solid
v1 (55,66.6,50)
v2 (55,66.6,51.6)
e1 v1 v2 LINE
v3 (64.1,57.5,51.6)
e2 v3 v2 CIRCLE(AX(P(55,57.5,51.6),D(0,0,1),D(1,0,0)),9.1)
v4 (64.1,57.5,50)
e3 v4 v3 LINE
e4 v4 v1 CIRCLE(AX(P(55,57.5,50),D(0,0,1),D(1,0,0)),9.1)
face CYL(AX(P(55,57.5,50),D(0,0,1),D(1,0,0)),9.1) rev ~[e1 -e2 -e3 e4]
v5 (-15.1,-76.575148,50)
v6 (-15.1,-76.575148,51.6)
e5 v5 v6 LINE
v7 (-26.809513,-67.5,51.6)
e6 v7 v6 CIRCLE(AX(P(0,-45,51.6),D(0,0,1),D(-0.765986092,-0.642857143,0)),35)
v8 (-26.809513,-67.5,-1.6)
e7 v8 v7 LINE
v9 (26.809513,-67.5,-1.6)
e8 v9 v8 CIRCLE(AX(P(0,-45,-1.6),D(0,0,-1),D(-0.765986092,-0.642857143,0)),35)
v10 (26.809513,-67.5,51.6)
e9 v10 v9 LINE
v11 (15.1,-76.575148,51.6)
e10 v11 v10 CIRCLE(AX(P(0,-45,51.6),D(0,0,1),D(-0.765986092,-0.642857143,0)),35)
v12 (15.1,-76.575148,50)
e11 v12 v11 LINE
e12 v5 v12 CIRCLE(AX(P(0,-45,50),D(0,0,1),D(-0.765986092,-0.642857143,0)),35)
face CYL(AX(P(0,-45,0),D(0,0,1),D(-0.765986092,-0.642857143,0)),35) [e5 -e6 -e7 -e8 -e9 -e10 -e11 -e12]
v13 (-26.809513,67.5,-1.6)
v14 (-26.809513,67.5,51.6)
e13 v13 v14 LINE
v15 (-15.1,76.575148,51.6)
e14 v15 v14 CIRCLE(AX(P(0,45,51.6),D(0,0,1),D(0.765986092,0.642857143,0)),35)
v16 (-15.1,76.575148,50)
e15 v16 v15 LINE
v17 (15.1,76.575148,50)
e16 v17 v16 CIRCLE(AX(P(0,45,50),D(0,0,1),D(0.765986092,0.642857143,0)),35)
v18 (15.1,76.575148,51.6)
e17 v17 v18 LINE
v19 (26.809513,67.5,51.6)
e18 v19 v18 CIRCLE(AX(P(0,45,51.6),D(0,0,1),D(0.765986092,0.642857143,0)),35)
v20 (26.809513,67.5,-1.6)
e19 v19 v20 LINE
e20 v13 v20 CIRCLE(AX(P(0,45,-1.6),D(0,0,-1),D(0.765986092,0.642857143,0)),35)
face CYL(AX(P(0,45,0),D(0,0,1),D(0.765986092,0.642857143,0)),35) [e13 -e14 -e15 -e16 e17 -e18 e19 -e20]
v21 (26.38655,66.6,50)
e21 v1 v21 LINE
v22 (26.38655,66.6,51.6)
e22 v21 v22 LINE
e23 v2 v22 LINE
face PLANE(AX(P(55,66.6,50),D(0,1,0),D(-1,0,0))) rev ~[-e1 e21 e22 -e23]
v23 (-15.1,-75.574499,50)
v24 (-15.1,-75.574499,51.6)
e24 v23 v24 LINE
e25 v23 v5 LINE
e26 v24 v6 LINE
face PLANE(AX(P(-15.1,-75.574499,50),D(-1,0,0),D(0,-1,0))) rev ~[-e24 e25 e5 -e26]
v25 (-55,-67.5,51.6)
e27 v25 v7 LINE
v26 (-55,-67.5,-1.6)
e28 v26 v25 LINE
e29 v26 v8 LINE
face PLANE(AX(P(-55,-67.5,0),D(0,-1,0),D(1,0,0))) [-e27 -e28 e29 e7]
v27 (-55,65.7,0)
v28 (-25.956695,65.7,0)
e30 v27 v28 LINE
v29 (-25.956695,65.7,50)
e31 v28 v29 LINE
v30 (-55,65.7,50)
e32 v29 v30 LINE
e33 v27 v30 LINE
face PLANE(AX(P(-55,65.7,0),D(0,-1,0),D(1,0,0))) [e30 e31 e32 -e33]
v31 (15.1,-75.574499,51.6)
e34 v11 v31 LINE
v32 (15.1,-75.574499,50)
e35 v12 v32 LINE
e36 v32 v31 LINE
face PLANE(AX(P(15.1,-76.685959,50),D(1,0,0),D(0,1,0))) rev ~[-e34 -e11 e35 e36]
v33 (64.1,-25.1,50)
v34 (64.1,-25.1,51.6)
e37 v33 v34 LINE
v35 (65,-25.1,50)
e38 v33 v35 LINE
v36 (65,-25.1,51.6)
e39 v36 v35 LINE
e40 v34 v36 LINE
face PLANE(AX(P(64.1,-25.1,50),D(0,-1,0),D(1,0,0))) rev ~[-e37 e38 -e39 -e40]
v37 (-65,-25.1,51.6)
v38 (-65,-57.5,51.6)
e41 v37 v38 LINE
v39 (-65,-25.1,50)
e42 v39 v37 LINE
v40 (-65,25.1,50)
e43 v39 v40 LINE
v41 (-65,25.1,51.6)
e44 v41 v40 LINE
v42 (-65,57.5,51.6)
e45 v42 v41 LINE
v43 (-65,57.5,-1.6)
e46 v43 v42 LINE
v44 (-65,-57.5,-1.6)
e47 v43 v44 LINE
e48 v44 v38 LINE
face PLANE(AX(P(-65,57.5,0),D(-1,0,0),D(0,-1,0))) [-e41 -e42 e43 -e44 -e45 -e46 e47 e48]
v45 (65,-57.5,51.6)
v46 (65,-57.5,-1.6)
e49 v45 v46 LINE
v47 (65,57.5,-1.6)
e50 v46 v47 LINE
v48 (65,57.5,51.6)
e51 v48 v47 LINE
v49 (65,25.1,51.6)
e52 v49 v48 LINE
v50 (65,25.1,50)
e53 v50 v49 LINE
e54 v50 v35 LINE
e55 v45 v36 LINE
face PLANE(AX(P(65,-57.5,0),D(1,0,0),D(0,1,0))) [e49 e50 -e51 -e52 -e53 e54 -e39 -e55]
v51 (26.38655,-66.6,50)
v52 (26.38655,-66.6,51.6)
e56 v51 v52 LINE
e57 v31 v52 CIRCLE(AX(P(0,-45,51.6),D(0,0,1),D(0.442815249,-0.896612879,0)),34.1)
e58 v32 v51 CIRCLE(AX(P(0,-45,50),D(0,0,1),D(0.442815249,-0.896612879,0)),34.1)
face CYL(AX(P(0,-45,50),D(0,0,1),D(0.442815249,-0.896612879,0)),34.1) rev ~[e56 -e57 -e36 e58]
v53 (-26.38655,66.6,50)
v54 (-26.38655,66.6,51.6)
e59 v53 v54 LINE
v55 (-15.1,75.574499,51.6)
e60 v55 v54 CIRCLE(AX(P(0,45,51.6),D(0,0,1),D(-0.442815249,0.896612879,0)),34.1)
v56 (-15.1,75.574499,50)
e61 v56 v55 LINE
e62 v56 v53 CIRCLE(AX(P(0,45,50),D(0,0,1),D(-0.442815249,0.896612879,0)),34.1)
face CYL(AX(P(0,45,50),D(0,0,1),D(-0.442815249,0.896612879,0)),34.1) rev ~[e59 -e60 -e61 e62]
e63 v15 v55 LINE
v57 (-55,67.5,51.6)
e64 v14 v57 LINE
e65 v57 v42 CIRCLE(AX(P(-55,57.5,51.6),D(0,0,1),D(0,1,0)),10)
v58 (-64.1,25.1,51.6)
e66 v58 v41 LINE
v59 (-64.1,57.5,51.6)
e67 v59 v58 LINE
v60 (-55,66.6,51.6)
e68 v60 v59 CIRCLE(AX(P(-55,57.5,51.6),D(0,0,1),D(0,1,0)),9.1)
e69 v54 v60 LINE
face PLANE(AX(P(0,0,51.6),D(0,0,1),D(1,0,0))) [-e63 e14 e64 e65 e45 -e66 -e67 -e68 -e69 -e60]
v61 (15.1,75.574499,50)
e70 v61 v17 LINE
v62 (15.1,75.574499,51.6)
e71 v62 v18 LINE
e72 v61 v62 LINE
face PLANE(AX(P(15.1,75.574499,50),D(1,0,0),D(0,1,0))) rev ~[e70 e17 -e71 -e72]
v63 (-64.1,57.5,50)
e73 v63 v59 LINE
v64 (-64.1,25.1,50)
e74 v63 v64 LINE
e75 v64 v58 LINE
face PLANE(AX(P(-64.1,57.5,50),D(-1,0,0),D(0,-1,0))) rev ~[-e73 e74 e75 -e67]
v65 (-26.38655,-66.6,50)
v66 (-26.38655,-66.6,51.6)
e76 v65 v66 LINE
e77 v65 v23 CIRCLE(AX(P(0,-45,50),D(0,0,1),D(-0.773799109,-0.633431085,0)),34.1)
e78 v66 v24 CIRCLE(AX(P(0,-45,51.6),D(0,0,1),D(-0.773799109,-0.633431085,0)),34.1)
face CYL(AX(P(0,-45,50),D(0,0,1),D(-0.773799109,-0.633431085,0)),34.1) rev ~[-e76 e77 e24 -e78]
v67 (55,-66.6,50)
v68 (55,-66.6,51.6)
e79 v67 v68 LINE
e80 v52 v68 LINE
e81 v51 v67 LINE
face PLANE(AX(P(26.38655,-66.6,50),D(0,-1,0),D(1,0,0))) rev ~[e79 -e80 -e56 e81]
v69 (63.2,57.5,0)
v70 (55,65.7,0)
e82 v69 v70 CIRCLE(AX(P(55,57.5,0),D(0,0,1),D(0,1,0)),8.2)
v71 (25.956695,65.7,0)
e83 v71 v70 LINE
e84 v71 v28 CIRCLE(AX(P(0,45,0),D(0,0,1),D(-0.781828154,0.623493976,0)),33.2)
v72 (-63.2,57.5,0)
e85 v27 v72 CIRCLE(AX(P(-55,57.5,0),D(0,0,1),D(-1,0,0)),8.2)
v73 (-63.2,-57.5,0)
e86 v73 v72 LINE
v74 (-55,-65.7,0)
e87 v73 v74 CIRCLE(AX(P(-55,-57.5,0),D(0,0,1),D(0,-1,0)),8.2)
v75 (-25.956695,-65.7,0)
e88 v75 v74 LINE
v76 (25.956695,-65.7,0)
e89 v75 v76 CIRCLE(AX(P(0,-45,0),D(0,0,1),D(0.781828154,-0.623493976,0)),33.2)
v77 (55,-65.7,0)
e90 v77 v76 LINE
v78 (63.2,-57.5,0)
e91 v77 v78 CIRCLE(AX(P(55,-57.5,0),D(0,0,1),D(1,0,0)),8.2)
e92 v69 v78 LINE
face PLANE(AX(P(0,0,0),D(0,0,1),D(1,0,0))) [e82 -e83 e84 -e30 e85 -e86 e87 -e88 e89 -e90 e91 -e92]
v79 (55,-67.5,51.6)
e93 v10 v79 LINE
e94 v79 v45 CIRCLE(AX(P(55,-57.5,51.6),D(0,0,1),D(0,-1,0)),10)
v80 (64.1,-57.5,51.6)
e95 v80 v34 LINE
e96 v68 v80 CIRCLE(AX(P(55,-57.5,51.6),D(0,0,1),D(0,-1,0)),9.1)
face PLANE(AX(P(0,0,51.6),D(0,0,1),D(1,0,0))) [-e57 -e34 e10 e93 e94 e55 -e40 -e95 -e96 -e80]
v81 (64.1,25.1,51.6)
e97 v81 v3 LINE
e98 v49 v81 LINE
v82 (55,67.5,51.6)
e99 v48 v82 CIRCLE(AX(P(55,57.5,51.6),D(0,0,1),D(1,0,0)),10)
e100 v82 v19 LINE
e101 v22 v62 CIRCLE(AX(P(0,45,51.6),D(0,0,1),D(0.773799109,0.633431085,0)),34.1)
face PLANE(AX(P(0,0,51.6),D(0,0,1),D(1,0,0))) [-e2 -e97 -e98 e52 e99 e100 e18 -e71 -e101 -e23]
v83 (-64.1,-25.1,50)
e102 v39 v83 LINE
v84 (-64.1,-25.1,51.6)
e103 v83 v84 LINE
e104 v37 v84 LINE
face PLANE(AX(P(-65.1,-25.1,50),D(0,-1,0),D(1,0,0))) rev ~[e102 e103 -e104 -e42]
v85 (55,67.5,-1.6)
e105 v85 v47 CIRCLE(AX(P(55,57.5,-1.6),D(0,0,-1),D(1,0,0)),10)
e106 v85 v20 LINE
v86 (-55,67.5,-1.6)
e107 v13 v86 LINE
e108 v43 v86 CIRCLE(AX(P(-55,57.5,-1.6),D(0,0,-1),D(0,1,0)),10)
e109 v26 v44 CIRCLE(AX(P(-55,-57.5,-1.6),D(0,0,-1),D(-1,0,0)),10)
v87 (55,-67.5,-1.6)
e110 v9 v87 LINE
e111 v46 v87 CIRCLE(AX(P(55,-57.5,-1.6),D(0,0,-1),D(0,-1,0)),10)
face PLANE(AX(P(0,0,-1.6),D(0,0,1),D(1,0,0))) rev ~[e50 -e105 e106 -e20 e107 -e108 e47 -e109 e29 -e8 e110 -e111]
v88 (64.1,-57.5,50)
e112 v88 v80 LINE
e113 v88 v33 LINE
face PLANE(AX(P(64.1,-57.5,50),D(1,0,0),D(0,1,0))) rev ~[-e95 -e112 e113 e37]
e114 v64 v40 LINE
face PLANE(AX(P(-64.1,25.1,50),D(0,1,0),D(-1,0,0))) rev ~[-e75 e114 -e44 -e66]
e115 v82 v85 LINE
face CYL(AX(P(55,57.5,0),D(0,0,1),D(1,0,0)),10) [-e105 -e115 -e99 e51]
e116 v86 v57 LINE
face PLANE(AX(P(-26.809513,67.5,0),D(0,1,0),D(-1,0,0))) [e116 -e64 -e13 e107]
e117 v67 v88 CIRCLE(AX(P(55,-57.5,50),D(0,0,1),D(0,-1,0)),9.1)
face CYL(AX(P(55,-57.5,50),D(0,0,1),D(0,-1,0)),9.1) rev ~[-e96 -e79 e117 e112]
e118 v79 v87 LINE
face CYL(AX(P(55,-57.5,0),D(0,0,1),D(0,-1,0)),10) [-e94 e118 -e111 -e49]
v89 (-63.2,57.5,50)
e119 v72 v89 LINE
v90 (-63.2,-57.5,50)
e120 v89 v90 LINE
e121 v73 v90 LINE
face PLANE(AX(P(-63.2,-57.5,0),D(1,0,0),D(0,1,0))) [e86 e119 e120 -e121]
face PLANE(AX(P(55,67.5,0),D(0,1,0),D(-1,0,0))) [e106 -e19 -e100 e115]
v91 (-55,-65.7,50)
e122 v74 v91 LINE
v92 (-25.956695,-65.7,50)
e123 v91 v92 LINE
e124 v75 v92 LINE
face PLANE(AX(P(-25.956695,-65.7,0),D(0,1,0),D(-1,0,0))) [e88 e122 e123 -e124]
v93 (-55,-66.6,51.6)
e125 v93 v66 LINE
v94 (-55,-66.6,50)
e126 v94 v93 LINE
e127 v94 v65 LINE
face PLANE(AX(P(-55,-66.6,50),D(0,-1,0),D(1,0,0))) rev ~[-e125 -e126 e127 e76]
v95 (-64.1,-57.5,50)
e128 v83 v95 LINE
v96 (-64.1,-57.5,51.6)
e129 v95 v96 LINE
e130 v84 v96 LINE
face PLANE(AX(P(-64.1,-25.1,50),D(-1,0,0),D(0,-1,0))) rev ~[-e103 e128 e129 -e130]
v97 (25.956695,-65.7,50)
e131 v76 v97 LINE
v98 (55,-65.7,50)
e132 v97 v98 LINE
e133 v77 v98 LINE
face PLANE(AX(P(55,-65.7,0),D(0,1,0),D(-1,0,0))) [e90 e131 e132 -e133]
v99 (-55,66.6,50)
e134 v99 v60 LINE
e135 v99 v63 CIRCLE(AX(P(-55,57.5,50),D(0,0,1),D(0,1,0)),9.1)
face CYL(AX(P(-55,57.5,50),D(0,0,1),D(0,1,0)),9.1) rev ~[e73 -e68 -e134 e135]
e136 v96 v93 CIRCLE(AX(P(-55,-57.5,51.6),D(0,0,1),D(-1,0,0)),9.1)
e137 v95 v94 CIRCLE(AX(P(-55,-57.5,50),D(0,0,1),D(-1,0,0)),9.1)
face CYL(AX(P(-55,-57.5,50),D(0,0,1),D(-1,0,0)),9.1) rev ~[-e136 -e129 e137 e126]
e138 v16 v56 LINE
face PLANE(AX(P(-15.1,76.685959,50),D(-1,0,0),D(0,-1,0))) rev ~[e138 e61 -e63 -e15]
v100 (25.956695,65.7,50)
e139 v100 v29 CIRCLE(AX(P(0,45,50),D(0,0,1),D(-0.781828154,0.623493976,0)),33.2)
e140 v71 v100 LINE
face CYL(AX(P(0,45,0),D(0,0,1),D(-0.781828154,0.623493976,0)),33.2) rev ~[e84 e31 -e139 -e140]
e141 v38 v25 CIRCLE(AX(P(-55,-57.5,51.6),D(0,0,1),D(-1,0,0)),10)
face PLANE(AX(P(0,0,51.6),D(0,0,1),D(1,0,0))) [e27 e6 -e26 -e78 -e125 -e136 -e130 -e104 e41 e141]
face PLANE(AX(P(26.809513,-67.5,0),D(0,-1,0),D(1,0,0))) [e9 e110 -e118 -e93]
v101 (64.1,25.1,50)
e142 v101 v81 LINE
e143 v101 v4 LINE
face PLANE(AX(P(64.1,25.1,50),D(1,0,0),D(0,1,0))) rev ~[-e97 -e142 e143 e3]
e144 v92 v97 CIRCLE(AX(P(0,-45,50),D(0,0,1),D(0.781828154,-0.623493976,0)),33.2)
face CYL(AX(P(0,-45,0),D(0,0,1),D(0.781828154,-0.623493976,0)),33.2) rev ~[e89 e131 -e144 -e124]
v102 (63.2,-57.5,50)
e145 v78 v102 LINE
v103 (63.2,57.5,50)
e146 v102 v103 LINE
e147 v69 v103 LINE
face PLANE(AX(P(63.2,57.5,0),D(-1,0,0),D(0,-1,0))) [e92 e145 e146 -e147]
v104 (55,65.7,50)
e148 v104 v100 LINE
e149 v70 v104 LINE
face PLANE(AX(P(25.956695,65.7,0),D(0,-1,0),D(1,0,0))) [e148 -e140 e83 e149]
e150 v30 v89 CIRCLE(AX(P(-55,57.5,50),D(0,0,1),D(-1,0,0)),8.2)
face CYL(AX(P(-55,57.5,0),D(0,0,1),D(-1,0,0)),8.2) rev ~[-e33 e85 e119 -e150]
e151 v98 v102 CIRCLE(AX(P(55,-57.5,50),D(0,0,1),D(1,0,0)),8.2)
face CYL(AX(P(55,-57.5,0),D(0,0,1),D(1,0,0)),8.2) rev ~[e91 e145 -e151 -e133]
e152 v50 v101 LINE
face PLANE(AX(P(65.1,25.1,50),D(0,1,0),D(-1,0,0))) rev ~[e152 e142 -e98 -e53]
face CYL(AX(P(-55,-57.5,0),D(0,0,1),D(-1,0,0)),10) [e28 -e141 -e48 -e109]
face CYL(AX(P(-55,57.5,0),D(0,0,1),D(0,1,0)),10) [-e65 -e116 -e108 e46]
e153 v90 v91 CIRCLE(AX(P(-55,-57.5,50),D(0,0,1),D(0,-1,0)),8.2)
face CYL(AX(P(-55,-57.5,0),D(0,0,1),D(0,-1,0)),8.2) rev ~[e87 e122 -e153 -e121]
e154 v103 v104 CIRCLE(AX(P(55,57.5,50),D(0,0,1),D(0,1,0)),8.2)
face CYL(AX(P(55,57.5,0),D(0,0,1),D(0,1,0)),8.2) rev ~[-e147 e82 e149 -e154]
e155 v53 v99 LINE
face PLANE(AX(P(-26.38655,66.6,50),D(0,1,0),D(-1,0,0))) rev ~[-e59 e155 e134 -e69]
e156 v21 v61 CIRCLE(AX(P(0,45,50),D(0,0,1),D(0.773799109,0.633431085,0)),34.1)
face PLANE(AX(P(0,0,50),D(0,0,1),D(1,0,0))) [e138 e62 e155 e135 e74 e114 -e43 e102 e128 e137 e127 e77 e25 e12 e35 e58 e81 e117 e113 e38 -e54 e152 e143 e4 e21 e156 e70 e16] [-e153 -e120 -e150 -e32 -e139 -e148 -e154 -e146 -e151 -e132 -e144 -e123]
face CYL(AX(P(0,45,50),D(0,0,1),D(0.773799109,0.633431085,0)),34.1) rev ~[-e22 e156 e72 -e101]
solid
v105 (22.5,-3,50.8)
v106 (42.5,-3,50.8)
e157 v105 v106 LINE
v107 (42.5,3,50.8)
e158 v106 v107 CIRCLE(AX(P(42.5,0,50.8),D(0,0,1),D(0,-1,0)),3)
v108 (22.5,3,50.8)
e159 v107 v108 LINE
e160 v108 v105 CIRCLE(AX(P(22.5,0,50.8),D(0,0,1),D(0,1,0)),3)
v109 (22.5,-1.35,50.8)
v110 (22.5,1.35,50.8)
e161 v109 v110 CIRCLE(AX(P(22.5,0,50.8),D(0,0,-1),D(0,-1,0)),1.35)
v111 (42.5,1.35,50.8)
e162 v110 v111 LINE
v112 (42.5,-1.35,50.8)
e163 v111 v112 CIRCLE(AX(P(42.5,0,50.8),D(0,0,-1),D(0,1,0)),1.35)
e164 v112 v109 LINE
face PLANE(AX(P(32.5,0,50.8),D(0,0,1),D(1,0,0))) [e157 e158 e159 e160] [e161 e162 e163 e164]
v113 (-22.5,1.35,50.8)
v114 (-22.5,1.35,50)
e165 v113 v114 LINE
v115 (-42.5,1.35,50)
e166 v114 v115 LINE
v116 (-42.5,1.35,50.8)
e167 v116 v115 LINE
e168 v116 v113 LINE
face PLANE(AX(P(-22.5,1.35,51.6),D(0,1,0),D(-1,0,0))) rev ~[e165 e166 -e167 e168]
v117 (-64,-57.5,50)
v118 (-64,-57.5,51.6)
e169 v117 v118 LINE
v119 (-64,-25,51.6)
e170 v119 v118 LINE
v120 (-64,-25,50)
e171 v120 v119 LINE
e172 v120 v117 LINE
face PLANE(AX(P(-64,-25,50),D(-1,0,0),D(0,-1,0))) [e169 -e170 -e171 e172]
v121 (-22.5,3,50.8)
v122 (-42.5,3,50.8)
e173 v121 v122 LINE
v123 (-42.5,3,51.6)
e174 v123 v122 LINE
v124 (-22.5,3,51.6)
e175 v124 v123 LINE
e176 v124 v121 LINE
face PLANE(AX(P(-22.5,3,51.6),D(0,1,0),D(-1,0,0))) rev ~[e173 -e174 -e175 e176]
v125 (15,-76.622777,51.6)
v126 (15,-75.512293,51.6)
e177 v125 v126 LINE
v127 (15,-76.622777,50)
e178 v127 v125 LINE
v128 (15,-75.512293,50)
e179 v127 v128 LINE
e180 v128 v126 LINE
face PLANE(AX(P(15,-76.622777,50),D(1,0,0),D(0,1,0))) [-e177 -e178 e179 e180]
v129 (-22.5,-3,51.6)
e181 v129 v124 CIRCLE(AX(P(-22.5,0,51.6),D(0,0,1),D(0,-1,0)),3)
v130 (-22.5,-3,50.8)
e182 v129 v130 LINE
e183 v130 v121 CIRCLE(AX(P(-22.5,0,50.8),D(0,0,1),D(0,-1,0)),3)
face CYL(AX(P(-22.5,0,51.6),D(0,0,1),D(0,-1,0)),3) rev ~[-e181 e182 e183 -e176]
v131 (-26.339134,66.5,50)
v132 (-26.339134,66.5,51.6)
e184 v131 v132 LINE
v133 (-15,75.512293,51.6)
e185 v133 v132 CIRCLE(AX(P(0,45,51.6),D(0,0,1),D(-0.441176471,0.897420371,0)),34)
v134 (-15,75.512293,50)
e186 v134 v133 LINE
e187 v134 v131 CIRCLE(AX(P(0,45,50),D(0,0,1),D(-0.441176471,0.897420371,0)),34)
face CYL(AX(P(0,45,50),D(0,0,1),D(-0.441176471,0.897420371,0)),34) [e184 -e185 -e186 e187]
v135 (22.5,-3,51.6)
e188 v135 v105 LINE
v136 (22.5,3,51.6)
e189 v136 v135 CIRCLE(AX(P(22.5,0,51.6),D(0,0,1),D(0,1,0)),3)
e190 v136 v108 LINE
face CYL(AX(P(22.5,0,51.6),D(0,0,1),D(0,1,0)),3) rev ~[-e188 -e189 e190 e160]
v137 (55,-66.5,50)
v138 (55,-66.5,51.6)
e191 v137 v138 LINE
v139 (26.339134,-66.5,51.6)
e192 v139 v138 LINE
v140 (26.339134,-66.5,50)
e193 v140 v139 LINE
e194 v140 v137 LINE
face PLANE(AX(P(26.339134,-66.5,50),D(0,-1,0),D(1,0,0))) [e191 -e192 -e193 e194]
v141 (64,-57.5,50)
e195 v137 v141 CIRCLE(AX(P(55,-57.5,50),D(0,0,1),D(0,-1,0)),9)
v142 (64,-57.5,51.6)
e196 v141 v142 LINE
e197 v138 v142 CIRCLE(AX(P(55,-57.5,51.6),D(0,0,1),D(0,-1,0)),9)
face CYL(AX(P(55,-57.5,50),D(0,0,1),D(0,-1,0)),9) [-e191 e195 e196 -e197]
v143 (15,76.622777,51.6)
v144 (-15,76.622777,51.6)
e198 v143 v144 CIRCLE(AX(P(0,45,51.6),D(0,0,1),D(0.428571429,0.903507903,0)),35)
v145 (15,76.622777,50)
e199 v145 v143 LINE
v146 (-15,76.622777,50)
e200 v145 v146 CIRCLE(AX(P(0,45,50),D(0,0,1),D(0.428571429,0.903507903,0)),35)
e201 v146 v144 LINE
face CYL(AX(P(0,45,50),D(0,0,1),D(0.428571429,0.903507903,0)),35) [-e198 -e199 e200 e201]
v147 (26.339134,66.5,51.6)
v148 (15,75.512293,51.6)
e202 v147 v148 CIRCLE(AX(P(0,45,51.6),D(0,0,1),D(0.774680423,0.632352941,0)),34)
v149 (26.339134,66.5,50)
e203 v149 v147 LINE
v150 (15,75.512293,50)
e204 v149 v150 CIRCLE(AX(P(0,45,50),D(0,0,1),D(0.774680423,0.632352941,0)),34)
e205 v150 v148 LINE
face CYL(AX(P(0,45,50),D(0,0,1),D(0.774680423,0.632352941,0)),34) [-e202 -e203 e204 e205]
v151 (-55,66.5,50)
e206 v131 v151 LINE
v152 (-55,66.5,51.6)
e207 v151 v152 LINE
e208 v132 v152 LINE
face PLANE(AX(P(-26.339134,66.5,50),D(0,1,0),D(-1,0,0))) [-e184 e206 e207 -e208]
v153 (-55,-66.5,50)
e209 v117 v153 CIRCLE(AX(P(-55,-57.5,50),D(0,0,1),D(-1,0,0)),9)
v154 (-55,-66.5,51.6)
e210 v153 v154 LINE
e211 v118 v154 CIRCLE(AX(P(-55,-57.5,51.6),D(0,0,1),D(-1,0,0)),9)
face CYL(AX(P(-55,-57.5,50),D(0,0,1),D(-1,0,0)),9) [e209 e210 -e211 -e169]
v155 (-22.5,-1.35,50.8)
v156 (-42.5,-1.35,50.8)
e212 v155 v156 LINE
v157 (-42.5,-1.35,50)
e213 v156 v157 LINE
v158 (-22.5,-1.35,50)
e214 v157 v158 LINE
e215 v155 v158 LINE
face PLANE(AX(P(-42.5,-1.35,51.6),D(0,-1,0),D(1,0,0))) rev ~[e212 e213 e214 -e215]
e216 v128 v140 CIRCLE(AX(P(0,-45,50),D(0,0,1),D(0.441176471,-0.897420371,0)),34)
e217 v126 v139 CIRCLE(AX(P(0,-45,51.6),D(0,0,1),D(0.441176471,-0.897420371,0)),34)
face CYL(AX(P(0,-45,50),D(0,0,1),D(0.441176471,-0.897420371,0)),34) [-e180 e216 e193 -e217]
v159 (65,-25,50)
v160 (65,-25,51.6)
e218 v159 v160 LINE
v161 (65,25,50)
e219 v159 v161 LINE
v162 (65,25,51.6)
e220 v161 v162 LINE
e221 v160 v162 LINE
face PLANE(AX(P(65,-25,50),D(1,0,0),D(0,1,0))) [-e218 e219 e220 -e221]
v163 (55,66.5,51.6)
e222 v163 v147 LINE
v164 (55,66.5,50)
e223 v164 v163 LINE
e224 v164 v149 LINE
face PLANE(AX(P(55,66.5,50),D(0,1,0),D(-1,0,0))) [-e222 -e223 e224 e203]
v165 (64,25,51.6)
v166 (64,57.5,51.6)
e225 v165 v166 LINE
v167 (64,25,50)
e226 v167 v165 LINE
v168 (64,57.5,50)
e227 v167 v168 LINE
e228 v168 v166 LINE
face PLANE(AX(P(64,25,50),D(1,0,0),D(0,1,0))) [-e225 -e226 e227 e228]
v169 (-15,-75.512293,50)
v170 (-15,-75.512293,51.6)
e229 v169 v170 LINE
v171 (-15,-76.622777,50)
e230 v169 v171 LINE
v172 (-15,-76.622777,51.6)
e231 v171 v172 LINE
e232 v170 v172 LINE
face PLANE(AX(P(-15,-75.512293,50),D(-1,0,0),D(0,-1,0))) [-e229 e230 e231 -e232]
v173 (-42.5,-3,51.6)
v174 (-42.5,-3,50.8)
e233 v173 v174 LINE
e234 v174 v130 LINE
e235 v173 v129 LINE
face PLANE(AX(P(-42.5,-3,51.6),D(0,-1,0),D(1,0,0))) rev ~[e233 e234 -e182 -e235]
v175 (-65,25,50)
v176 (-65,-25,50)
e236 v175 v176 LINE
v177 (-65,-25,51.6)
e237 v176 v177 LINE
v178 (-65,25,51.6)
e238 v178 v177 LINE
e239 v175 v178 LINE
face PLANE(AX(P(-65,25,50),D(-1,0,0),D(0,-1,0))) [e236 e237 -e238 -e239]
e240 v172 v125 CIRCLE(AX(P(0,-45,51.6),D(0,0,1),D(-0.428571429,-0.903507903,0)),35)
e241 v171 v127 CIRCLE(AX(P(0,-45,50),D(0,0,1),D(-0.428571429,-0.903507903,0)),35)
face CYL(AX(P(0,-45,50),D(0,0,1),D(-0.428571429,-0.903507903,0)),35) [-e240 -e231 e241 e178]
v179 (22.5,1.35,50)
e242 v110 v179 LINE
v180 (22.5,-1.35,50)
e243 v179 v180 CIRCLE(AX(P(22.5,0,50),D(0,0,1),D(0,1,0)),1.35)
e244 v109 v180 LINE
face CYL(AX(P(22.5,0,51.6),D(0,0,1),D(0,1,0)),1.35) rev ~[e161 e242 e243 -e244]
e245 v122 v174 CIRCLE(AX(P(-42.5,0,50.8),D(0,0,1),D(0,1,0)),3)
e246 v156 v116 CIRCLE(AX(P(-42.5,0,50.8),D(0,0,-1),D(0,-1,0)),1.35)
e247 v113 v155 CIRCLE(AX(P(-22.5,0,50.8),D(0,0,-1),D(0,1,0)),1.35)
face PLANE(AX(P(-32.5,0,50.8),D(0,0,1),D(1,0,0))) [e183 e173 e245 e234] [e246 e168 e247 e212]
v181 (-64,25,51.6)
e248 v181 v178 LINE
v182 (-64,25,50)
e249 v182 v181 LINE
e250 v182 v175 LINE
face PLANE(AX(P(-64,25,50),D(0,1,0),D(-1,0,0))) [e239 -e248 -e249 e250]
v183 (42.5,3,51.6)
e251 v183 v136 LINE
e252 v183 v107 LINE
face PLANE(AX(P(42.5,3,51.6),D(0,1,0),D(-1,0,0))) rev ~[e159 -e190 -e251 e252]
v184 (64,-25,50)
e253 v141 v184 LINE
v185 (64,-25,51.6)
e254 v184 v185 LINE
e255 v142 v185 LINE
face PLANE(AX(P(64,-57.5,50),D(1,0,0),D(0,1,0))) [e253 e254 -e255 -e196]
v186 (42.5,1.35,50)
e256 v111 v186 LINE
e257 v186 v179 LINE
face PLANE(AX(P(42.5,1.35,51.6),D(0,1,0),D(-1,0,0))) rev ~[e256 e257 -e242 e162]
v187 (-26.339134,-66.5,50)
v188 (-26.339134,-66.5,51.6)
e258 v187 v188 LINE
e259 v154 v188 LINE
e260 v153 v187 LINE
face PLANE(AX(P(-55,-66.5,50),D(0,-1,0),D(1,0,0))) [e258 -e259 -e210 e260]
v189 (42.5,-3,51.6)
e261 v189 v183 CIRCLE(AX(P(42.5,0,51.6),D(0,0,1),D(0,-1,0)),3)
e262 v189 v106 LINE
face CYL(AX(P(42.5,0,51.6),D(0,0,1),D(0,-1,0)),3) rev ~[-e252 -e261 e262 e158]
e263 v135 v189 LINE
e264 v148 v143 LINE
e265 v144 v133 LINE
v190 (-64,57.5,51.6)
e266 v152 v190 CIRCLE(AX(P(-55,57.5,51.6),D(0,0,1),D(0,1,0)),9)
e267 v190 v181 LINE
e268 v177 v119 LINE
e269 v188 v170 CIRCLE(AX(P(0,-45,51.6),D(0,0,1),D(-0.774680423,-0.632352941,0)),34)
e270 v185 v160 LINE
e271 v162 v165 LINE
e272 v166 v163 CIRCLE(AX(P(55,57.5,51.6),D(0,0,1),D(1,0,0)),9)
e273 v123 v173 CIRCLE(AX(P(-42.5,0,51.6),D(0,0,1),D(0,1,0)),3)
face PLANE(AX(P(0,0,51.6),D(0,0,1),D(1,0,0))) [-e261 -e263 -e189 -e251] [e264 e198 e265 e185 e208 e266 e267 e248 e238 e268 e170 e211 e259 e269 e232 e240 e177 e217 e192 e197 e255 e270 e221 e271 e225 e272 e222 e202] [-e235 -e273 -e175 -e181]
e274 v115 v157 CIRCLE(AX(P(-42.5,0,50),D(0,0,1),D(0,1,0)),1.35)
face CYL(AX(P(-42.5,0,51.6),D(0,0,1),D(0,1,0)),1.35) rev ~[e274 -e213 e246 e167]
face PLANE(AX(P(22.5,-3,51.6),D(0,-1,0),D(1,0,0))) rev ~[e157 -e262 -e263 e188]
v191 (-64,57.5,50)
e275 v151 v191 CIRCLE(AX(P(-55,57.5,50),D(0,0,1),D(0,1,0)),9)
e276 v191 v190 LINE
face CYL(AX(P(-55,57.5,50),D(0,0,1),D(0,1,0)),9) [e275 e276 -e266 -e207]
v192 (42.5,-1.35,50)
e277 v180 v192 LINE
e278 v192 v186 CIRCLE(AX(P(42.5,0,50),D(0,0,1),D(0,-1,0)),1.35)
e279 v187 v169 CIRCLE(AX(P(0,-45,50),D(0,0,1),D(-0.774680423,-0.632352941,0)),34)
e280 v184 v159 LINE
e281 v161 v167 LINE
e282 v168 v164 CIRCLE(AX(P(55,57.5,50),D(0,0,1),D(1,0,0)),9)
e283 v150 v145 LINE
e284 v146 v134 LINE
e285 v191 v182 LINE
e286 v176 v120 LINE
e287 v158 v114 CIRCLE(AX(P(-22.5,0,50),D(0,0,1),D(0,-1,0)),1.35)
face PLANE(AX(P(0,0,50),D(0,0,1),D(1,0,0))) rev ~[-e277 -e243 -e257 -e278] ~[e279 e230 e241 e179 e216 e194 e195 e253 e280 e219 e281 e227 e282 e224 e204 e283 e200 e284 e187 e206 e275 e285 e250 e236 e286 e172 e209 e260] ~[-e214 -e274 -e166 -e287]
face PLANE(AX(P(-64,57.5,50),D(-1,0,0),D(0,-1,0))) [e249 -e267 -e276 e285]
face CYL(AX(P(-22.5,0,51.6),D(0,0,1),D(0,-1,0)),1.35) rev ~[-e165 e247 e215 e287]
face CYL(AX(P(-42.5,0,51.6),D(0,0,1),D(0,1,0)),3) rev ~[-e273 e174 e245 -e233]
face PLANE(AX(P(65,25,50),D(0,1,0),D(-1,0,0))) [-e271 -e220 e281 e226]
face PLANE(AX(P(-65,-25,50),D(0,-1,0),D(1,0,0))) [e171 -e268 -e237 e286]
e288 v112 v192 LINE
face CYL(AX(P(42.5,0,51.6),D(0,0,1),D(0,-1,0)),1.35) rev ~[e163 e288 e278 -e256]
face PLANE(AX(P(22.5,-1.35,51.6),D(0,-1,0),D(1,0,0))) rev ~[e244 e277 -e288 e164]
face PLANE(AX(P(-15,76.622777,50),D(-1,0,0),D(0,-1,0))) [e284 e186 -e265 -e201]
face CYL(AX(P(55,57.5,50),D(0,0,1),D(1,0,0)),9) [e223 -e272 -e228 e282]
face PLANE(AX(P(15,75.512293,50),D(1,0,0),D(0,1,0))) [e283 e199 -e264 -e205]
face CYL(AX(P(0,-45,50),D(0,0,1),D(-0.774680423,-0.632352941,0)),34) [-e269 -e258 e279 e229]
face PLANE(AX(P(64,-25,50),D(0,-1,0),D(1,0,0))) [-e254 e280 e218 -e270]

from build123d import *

# Parameters (mm, degrees)
F11_DEPTH = 53.201
F12_DEPTH = 0.8


with BuildPart() as f4:
    # F4: sweep along a path in F3
    with BuildLine(Plane.XZ) as f4_path:
        Line((0, 0), (0, -1.6))
    # F1 (on Top) → F4 (sweep)
    with BuildSketch(Plane.XY):
        with BuildLine():
            ThreePointArc((-55, 67.5), (-62.0710678119, 64.5710678119), (-65, 57.5))
            Line((-65, 57.5), (-65, -57.5))
            ThreePointArc((-65, -57.5), (-62.0710678119, -64.5710678119), (-55, -67.5))
            Line((-55, -67.5), (-26.8095132369, -67.5))
            ThreePointArc((-26.8095132369, -67.5), (0, -80), (26.8095132369, -67.5))
            Line((26.8095132369, -67.5), (55, -67.5))
            ThreePointArc((55, -67.5), (62.0710678119, -64.5710678119), (65, -57.5))
            Line((65, -57.5), (65, 57.5))
            ThreePointArc((65, 57.5), (62.0710678119, 64.5710678119), (55, 67.5))
            Line((55, 67.5), (26.8095132369, 67.5))
            ThreePointArc((26.8095132369, 67.5), (0, 80), (-26.8095132369, 67.5))
            Line((-26.8095132369, 67.5), (-55, 67.5))
        make_face()
    sweep(path=f4_path.line)

    # F5: sweep along a path in F3
    with BuildLine(Plane.XZ) as f5_path:
        Line((0, 0), (0, 50))
        Line((0, 50), (0, 51.6))
    # F2 (on Top) → F5 (sweep)
    with BuildSketch(Plane.XY):
        with BuildLine():
            ThreePointArc((26.8095132369, 67.5), (0, 80), (-26.8095132369, 67.5))
            Line((-26.8095132369, 67.5), (-55, 67.5))
            ThreePointArc((-55, 67.5), (-62.0710678119, 64.5710678119), (-65, 57.5))
            Line((-65, 57.5), (-65, -57.5))
            ThreePointArc((-65, -57.5), (-62.0710678119, -64.5710678119), (-55, -67.5))
            Line((-55, -67.5), (-26.8095132369, -67.5))
            ThreePointArc((-26.8095132369, -67.5), (0, -80), (26.8095132369, -67.5))
            Line((26.8095132369, -67.5), (55, -67.5))
            ThreePointArc((55, -67.5), (62.0710678119, -64.5710678119), (65, -57.5))
            Line((65, -57.5), (65, 57.5))
            ThreePointArc((65, 57.5), (62.0710678119, 64.5710678119), (55, 67.5))
            Line((55, 67.5), (26.8095132369, 67.5))
        make_face()
        with BuildLine():
            ThreePointArc((-63.2, 57.5), (-60.7982756057, 63.2982756057), (-55, 65.7))
            Line((-55, 65.7), (-25.9566947048, 65.7))
            ThreePointArc((-25.9566947048, 65.7), (0, 78.2), (25.9566947048, 65.7))
            Line((25.9566947048, 65.7), (55, 65.7))
            ThreePointArc((55, 65.7), (60.7982756057, 63.2982756057), (63.2, 57.5))
            Line((63.2, 57.5), (63.2, -57.5))
            ThreePointArc((63.2, -57.5), (60.7982756057, -63.2982756057), (55, -65.7))
            Line((55, -65.7), (25.9566947048, -65.7))
            ThreePointArc((25.9566947048, -65.7), (0, -78.2), (-25.9566947048, -65.7))
            Line((-25.9566947048, -65.7), (-55, -65.7))
            ThreePointArc((-55, -65.7), (-60.7982756057, -63.2982756057), (-63.2, -57.5))
            Line((-63.2, -57.5), (-63.2, 57.5))
        make_face(mode=Mode.SUBTRACT)
    sweep(path=f5_path.line)

    # F8: sweep along a path in F3
    with BuildLine(Plane.XZ) as f8_path:
        Line((0, 50), (0, 51.6))
    # F7 (on face) → F8 (sweep, cut)
    with BuildSketch(Plane.XY.offset(51.6)):
        with BuildLine():
            ThreePointArc((-15.1, 75.5744991782), (-21.2230737261, 71.6906564478), (-26.3865496039, 66.6))
            Line((-26.3865496039, 66.6), (-55, 66.6))
            ThreePointArc((-55, 66.6), (-61.4346717088, 63.9346717088), (-64.1, 57.5))
            Line((-64.1, 57.5), (-64.1, 25.1))
            Line((-64.1, 25.1), (-65.1, 25.1))
            Line((-65.1, 25.1), (-65.1, -25.1))
            Line((-65.1, -25.1), (-64.1, -25.1))
            Line((-64.1, -25.1), (-64.1, -57.5))
            ThreePointArc((-64.1, -57.5), (-61.4346717088, -63.9346717088), (-55, -66.6))
            Line((-55, -66.6), (-26.3865496039, -66.6))
            ThreePointArc((-26.3865496039, -66.6), (-21.2230737261, -71.6906564478), (-15.1, -75.5744991782))
            Line((-15.1, -75.5744991782), (-15.1, -76.6859590355))
            ThreePointArc((-15.1, -76.6859590355), (0, -80.1), (15.1, -76.6859590355))
            Line((15.1, -76.6859590355), (15.1, -75.5744991782))
            ThreePointArc((15.1, -75.5744991782), (21.2230737261, -71.6906564478), (26.3865496039, -66.6))
            Line((26.3865496039, -66.6), (55, -66.6))
            ThreePointArc((55, -66.6), (61.4346717088, -63.9346717088), (64.1, -57.5))
            Line((64.1, -57.5), (64.1, -25.1))
            Line((64.1, -25.1), (65.1, -25.1))
            Line((65.1, -25.1), (65.1, 25.1))
            Line((65.1, 25.1), (64.1, 25.1))
            Line((64.1, 25.1), (64.1, 57.5))
            ThreePointArc((64.1, 57.5), (61.4346717088, 63.9346717088), (55, 66.6))
            Line((55, 66.6), (26.3865496039, 66.6))
            ThreePointArc((26.3865496039, 66.6), (21.2230737261, 71.6906564478), (15.1, 75.5744991782))
            Line((15.1, 75.5744991782), (15.1, 76.6859590355))
            ThreePointArc((15.1, 76.6859590355), (0, 80.1), (-15.1, 76.6859590355))
            Line((-15.1, 76.6859590355), (-15.1, 75.5744991782))
        make_face()
    sweep(path=f8_path.line, mode=Mode.SUBTRACT)


with BuildPart() as f9:
    # F9: sweep along a path in F3
    with BuildLine(Plane.XZ) as f9_path:
        Line((0, 50), (0, 51.6))
    # F6 (on face) → F9 (sweep)
    with BuildSketch(Plane.XY.offset(51.6)):
        with BuildLine():
            ThreePointArc((-15, 75.5122926048), (-21.1550552437, 71.6169802501), (-26.3391343821, 66.5))
            Line((-26.3391343821, 66.5), (-55, 66.5))
            ThreePointArc((-55, 66.5), (-61.3639610307, 63.8639610307), (-64, 57.5))
            Line((-64, 57.5), (-64, 25))
            Line((-64, 25), (-65, 25))
            Line((-65, 25), (-65, -25))
            Line((-65, -25), (-64, -25))
            Line((-64, -25), (-64, -57.5))
            ThreePointArc((-64, -57.5), (-61.3639610307, -63.8639610307), (-55, -66.5))
            Line((-55, -66.5), (-26.3391343821, -66.5))
            ThreePointArc((-26.3391343821, -66.5), (-21.1550552437, -71.6169802501), (-15, -75.5122926048))
            Line((-15, -75.5122926048), (-15, -76.6227766017))
            ThreePointArc((-15, -76.6227766017), (0, -80), (15, -76.6227766017))
            Line((15, -76.6227766017), (15, -75.5122926048))
            ThreePointArc((15, -75.5122926048), (21.1550552437, -71.6169802501), (26.3391343821, -66.5))
            Line((26.3391343821, -66.5), (55, -66.5))
            ThreePointArc((55, -66.5), (61.3639610307, -63.8639610307), (64, -57.5))
            Line((64, -57.5), (64, -25))
            Line((64, -25), (65, -25))
            Line((65, -25), (65, 25))
            Line((65, 25), (64, 25))
            Line((64, 25), (64, 57.5))
            ThreePointArc((64, 57.5), (61.3639610307, 63.8639610307), (55, 66.5))
            Line((55, 66.5), (26.3391343821, 66.5))
            ThreePointArc((26.3391343821, 66.5), (21.1550552437, 71.6169802501), (15, 75.5122926048))
            Line((15, 75.5122926048), (15, 76.6227766017))
            ThreePointArc((15, 76.6227766017), (0, 80), (-15, 76.6227766017))
            Line((-15, 76.6227766017), (-15, 75.5122926048))
        make_face()
    sweep(path=f9_path.line)

    # F10 (on face) → F11 (cut, through all)
    with BuildSketch(Plane.XY.offset(51.6)):
        with BuildLine():
            ThreePointArc((-22.5, -1.35), (-21.15, 0), (-22.5, 1.35))
            Line((-22.5, 1.35), (-42.5, 1.35))
            ThreePointArc((-42.5, 1.35), (-43.85, 0), (-42.5, -1.35))
            Line((-42.5, -1.35), (-22.5, -1.35))
        make_face()
        with BuildLine():
            Line((42.5, 1.35), (22.5, 1.35))
            ThreePointArc((22.5, 1.35), (21.15, 0), (22.5, -1.35))
            Line((22.5, -1.35), (42.5, -1.35))
            ThreePointArc((42.5, -1.35), (43.85, 0), (42.5, 1.35))
        make_face()
    extrude(amount=-F11_DEPTH, mode=Mode.SUBTRACT)

    # F10 (on face) → F12 (cut)
    with BuildSketch(Plane.XY.offset(51.6)):
        with BuildLine():
            ThreePointArc((-22.5, -3), (-19.5, 0), (-22.5, 3))
            Line((-22.5, 3), (-42.5, 3))
            ThreePointArc((-42.5, 3), (-45.5, 0), (-42.5, -3))
            Line((-42.5, -3), (-22.5, -3))
        make_face()
        with BuildLine():
            Line((-42.5, 1.35), (-22.5, 1.35))
            ThreePointArc((-22.5, 1.35), (-21.15, 0), (-22.5, -1.35))
            Line((-22.5, -1.35), (-42.5, -1.35))
            ThreePointArc((-42.5, -1.35), (-43.85, 0), (-42.5, 1.35))
        make_face(mode=Mode.SUBTRACT)
        with BuildLine():
            Line((42.5, 3), (22.5, 3))
            ThreePointArc((22.5, 3), (19.5, 0), (22.5, -3))
            Line((22.5, -3), (42.5, -3))
            ThreePointArc((42.5, -3), (45.5, 0), (42.5, 3))
        make_face()
        with BuildLine():
            ThreePointArc((22.5, -1.35), (21.15, 0), (22.5, 1.35))
            Line((22.5, 1.35), (42.5, 1.35))
            ThreePointArc((42.5, 1.35), (43.85, 0), (42.5, -1.35))
            Line((42.5, -1.35), (22.5, -1.35))
        make_face(mode=Mode.SUBTRACT)
    extrude(amount=-F12_DEPTH, mode=Mode.SUBTRACT)


solid = Compound([f4.part, f9.part])
